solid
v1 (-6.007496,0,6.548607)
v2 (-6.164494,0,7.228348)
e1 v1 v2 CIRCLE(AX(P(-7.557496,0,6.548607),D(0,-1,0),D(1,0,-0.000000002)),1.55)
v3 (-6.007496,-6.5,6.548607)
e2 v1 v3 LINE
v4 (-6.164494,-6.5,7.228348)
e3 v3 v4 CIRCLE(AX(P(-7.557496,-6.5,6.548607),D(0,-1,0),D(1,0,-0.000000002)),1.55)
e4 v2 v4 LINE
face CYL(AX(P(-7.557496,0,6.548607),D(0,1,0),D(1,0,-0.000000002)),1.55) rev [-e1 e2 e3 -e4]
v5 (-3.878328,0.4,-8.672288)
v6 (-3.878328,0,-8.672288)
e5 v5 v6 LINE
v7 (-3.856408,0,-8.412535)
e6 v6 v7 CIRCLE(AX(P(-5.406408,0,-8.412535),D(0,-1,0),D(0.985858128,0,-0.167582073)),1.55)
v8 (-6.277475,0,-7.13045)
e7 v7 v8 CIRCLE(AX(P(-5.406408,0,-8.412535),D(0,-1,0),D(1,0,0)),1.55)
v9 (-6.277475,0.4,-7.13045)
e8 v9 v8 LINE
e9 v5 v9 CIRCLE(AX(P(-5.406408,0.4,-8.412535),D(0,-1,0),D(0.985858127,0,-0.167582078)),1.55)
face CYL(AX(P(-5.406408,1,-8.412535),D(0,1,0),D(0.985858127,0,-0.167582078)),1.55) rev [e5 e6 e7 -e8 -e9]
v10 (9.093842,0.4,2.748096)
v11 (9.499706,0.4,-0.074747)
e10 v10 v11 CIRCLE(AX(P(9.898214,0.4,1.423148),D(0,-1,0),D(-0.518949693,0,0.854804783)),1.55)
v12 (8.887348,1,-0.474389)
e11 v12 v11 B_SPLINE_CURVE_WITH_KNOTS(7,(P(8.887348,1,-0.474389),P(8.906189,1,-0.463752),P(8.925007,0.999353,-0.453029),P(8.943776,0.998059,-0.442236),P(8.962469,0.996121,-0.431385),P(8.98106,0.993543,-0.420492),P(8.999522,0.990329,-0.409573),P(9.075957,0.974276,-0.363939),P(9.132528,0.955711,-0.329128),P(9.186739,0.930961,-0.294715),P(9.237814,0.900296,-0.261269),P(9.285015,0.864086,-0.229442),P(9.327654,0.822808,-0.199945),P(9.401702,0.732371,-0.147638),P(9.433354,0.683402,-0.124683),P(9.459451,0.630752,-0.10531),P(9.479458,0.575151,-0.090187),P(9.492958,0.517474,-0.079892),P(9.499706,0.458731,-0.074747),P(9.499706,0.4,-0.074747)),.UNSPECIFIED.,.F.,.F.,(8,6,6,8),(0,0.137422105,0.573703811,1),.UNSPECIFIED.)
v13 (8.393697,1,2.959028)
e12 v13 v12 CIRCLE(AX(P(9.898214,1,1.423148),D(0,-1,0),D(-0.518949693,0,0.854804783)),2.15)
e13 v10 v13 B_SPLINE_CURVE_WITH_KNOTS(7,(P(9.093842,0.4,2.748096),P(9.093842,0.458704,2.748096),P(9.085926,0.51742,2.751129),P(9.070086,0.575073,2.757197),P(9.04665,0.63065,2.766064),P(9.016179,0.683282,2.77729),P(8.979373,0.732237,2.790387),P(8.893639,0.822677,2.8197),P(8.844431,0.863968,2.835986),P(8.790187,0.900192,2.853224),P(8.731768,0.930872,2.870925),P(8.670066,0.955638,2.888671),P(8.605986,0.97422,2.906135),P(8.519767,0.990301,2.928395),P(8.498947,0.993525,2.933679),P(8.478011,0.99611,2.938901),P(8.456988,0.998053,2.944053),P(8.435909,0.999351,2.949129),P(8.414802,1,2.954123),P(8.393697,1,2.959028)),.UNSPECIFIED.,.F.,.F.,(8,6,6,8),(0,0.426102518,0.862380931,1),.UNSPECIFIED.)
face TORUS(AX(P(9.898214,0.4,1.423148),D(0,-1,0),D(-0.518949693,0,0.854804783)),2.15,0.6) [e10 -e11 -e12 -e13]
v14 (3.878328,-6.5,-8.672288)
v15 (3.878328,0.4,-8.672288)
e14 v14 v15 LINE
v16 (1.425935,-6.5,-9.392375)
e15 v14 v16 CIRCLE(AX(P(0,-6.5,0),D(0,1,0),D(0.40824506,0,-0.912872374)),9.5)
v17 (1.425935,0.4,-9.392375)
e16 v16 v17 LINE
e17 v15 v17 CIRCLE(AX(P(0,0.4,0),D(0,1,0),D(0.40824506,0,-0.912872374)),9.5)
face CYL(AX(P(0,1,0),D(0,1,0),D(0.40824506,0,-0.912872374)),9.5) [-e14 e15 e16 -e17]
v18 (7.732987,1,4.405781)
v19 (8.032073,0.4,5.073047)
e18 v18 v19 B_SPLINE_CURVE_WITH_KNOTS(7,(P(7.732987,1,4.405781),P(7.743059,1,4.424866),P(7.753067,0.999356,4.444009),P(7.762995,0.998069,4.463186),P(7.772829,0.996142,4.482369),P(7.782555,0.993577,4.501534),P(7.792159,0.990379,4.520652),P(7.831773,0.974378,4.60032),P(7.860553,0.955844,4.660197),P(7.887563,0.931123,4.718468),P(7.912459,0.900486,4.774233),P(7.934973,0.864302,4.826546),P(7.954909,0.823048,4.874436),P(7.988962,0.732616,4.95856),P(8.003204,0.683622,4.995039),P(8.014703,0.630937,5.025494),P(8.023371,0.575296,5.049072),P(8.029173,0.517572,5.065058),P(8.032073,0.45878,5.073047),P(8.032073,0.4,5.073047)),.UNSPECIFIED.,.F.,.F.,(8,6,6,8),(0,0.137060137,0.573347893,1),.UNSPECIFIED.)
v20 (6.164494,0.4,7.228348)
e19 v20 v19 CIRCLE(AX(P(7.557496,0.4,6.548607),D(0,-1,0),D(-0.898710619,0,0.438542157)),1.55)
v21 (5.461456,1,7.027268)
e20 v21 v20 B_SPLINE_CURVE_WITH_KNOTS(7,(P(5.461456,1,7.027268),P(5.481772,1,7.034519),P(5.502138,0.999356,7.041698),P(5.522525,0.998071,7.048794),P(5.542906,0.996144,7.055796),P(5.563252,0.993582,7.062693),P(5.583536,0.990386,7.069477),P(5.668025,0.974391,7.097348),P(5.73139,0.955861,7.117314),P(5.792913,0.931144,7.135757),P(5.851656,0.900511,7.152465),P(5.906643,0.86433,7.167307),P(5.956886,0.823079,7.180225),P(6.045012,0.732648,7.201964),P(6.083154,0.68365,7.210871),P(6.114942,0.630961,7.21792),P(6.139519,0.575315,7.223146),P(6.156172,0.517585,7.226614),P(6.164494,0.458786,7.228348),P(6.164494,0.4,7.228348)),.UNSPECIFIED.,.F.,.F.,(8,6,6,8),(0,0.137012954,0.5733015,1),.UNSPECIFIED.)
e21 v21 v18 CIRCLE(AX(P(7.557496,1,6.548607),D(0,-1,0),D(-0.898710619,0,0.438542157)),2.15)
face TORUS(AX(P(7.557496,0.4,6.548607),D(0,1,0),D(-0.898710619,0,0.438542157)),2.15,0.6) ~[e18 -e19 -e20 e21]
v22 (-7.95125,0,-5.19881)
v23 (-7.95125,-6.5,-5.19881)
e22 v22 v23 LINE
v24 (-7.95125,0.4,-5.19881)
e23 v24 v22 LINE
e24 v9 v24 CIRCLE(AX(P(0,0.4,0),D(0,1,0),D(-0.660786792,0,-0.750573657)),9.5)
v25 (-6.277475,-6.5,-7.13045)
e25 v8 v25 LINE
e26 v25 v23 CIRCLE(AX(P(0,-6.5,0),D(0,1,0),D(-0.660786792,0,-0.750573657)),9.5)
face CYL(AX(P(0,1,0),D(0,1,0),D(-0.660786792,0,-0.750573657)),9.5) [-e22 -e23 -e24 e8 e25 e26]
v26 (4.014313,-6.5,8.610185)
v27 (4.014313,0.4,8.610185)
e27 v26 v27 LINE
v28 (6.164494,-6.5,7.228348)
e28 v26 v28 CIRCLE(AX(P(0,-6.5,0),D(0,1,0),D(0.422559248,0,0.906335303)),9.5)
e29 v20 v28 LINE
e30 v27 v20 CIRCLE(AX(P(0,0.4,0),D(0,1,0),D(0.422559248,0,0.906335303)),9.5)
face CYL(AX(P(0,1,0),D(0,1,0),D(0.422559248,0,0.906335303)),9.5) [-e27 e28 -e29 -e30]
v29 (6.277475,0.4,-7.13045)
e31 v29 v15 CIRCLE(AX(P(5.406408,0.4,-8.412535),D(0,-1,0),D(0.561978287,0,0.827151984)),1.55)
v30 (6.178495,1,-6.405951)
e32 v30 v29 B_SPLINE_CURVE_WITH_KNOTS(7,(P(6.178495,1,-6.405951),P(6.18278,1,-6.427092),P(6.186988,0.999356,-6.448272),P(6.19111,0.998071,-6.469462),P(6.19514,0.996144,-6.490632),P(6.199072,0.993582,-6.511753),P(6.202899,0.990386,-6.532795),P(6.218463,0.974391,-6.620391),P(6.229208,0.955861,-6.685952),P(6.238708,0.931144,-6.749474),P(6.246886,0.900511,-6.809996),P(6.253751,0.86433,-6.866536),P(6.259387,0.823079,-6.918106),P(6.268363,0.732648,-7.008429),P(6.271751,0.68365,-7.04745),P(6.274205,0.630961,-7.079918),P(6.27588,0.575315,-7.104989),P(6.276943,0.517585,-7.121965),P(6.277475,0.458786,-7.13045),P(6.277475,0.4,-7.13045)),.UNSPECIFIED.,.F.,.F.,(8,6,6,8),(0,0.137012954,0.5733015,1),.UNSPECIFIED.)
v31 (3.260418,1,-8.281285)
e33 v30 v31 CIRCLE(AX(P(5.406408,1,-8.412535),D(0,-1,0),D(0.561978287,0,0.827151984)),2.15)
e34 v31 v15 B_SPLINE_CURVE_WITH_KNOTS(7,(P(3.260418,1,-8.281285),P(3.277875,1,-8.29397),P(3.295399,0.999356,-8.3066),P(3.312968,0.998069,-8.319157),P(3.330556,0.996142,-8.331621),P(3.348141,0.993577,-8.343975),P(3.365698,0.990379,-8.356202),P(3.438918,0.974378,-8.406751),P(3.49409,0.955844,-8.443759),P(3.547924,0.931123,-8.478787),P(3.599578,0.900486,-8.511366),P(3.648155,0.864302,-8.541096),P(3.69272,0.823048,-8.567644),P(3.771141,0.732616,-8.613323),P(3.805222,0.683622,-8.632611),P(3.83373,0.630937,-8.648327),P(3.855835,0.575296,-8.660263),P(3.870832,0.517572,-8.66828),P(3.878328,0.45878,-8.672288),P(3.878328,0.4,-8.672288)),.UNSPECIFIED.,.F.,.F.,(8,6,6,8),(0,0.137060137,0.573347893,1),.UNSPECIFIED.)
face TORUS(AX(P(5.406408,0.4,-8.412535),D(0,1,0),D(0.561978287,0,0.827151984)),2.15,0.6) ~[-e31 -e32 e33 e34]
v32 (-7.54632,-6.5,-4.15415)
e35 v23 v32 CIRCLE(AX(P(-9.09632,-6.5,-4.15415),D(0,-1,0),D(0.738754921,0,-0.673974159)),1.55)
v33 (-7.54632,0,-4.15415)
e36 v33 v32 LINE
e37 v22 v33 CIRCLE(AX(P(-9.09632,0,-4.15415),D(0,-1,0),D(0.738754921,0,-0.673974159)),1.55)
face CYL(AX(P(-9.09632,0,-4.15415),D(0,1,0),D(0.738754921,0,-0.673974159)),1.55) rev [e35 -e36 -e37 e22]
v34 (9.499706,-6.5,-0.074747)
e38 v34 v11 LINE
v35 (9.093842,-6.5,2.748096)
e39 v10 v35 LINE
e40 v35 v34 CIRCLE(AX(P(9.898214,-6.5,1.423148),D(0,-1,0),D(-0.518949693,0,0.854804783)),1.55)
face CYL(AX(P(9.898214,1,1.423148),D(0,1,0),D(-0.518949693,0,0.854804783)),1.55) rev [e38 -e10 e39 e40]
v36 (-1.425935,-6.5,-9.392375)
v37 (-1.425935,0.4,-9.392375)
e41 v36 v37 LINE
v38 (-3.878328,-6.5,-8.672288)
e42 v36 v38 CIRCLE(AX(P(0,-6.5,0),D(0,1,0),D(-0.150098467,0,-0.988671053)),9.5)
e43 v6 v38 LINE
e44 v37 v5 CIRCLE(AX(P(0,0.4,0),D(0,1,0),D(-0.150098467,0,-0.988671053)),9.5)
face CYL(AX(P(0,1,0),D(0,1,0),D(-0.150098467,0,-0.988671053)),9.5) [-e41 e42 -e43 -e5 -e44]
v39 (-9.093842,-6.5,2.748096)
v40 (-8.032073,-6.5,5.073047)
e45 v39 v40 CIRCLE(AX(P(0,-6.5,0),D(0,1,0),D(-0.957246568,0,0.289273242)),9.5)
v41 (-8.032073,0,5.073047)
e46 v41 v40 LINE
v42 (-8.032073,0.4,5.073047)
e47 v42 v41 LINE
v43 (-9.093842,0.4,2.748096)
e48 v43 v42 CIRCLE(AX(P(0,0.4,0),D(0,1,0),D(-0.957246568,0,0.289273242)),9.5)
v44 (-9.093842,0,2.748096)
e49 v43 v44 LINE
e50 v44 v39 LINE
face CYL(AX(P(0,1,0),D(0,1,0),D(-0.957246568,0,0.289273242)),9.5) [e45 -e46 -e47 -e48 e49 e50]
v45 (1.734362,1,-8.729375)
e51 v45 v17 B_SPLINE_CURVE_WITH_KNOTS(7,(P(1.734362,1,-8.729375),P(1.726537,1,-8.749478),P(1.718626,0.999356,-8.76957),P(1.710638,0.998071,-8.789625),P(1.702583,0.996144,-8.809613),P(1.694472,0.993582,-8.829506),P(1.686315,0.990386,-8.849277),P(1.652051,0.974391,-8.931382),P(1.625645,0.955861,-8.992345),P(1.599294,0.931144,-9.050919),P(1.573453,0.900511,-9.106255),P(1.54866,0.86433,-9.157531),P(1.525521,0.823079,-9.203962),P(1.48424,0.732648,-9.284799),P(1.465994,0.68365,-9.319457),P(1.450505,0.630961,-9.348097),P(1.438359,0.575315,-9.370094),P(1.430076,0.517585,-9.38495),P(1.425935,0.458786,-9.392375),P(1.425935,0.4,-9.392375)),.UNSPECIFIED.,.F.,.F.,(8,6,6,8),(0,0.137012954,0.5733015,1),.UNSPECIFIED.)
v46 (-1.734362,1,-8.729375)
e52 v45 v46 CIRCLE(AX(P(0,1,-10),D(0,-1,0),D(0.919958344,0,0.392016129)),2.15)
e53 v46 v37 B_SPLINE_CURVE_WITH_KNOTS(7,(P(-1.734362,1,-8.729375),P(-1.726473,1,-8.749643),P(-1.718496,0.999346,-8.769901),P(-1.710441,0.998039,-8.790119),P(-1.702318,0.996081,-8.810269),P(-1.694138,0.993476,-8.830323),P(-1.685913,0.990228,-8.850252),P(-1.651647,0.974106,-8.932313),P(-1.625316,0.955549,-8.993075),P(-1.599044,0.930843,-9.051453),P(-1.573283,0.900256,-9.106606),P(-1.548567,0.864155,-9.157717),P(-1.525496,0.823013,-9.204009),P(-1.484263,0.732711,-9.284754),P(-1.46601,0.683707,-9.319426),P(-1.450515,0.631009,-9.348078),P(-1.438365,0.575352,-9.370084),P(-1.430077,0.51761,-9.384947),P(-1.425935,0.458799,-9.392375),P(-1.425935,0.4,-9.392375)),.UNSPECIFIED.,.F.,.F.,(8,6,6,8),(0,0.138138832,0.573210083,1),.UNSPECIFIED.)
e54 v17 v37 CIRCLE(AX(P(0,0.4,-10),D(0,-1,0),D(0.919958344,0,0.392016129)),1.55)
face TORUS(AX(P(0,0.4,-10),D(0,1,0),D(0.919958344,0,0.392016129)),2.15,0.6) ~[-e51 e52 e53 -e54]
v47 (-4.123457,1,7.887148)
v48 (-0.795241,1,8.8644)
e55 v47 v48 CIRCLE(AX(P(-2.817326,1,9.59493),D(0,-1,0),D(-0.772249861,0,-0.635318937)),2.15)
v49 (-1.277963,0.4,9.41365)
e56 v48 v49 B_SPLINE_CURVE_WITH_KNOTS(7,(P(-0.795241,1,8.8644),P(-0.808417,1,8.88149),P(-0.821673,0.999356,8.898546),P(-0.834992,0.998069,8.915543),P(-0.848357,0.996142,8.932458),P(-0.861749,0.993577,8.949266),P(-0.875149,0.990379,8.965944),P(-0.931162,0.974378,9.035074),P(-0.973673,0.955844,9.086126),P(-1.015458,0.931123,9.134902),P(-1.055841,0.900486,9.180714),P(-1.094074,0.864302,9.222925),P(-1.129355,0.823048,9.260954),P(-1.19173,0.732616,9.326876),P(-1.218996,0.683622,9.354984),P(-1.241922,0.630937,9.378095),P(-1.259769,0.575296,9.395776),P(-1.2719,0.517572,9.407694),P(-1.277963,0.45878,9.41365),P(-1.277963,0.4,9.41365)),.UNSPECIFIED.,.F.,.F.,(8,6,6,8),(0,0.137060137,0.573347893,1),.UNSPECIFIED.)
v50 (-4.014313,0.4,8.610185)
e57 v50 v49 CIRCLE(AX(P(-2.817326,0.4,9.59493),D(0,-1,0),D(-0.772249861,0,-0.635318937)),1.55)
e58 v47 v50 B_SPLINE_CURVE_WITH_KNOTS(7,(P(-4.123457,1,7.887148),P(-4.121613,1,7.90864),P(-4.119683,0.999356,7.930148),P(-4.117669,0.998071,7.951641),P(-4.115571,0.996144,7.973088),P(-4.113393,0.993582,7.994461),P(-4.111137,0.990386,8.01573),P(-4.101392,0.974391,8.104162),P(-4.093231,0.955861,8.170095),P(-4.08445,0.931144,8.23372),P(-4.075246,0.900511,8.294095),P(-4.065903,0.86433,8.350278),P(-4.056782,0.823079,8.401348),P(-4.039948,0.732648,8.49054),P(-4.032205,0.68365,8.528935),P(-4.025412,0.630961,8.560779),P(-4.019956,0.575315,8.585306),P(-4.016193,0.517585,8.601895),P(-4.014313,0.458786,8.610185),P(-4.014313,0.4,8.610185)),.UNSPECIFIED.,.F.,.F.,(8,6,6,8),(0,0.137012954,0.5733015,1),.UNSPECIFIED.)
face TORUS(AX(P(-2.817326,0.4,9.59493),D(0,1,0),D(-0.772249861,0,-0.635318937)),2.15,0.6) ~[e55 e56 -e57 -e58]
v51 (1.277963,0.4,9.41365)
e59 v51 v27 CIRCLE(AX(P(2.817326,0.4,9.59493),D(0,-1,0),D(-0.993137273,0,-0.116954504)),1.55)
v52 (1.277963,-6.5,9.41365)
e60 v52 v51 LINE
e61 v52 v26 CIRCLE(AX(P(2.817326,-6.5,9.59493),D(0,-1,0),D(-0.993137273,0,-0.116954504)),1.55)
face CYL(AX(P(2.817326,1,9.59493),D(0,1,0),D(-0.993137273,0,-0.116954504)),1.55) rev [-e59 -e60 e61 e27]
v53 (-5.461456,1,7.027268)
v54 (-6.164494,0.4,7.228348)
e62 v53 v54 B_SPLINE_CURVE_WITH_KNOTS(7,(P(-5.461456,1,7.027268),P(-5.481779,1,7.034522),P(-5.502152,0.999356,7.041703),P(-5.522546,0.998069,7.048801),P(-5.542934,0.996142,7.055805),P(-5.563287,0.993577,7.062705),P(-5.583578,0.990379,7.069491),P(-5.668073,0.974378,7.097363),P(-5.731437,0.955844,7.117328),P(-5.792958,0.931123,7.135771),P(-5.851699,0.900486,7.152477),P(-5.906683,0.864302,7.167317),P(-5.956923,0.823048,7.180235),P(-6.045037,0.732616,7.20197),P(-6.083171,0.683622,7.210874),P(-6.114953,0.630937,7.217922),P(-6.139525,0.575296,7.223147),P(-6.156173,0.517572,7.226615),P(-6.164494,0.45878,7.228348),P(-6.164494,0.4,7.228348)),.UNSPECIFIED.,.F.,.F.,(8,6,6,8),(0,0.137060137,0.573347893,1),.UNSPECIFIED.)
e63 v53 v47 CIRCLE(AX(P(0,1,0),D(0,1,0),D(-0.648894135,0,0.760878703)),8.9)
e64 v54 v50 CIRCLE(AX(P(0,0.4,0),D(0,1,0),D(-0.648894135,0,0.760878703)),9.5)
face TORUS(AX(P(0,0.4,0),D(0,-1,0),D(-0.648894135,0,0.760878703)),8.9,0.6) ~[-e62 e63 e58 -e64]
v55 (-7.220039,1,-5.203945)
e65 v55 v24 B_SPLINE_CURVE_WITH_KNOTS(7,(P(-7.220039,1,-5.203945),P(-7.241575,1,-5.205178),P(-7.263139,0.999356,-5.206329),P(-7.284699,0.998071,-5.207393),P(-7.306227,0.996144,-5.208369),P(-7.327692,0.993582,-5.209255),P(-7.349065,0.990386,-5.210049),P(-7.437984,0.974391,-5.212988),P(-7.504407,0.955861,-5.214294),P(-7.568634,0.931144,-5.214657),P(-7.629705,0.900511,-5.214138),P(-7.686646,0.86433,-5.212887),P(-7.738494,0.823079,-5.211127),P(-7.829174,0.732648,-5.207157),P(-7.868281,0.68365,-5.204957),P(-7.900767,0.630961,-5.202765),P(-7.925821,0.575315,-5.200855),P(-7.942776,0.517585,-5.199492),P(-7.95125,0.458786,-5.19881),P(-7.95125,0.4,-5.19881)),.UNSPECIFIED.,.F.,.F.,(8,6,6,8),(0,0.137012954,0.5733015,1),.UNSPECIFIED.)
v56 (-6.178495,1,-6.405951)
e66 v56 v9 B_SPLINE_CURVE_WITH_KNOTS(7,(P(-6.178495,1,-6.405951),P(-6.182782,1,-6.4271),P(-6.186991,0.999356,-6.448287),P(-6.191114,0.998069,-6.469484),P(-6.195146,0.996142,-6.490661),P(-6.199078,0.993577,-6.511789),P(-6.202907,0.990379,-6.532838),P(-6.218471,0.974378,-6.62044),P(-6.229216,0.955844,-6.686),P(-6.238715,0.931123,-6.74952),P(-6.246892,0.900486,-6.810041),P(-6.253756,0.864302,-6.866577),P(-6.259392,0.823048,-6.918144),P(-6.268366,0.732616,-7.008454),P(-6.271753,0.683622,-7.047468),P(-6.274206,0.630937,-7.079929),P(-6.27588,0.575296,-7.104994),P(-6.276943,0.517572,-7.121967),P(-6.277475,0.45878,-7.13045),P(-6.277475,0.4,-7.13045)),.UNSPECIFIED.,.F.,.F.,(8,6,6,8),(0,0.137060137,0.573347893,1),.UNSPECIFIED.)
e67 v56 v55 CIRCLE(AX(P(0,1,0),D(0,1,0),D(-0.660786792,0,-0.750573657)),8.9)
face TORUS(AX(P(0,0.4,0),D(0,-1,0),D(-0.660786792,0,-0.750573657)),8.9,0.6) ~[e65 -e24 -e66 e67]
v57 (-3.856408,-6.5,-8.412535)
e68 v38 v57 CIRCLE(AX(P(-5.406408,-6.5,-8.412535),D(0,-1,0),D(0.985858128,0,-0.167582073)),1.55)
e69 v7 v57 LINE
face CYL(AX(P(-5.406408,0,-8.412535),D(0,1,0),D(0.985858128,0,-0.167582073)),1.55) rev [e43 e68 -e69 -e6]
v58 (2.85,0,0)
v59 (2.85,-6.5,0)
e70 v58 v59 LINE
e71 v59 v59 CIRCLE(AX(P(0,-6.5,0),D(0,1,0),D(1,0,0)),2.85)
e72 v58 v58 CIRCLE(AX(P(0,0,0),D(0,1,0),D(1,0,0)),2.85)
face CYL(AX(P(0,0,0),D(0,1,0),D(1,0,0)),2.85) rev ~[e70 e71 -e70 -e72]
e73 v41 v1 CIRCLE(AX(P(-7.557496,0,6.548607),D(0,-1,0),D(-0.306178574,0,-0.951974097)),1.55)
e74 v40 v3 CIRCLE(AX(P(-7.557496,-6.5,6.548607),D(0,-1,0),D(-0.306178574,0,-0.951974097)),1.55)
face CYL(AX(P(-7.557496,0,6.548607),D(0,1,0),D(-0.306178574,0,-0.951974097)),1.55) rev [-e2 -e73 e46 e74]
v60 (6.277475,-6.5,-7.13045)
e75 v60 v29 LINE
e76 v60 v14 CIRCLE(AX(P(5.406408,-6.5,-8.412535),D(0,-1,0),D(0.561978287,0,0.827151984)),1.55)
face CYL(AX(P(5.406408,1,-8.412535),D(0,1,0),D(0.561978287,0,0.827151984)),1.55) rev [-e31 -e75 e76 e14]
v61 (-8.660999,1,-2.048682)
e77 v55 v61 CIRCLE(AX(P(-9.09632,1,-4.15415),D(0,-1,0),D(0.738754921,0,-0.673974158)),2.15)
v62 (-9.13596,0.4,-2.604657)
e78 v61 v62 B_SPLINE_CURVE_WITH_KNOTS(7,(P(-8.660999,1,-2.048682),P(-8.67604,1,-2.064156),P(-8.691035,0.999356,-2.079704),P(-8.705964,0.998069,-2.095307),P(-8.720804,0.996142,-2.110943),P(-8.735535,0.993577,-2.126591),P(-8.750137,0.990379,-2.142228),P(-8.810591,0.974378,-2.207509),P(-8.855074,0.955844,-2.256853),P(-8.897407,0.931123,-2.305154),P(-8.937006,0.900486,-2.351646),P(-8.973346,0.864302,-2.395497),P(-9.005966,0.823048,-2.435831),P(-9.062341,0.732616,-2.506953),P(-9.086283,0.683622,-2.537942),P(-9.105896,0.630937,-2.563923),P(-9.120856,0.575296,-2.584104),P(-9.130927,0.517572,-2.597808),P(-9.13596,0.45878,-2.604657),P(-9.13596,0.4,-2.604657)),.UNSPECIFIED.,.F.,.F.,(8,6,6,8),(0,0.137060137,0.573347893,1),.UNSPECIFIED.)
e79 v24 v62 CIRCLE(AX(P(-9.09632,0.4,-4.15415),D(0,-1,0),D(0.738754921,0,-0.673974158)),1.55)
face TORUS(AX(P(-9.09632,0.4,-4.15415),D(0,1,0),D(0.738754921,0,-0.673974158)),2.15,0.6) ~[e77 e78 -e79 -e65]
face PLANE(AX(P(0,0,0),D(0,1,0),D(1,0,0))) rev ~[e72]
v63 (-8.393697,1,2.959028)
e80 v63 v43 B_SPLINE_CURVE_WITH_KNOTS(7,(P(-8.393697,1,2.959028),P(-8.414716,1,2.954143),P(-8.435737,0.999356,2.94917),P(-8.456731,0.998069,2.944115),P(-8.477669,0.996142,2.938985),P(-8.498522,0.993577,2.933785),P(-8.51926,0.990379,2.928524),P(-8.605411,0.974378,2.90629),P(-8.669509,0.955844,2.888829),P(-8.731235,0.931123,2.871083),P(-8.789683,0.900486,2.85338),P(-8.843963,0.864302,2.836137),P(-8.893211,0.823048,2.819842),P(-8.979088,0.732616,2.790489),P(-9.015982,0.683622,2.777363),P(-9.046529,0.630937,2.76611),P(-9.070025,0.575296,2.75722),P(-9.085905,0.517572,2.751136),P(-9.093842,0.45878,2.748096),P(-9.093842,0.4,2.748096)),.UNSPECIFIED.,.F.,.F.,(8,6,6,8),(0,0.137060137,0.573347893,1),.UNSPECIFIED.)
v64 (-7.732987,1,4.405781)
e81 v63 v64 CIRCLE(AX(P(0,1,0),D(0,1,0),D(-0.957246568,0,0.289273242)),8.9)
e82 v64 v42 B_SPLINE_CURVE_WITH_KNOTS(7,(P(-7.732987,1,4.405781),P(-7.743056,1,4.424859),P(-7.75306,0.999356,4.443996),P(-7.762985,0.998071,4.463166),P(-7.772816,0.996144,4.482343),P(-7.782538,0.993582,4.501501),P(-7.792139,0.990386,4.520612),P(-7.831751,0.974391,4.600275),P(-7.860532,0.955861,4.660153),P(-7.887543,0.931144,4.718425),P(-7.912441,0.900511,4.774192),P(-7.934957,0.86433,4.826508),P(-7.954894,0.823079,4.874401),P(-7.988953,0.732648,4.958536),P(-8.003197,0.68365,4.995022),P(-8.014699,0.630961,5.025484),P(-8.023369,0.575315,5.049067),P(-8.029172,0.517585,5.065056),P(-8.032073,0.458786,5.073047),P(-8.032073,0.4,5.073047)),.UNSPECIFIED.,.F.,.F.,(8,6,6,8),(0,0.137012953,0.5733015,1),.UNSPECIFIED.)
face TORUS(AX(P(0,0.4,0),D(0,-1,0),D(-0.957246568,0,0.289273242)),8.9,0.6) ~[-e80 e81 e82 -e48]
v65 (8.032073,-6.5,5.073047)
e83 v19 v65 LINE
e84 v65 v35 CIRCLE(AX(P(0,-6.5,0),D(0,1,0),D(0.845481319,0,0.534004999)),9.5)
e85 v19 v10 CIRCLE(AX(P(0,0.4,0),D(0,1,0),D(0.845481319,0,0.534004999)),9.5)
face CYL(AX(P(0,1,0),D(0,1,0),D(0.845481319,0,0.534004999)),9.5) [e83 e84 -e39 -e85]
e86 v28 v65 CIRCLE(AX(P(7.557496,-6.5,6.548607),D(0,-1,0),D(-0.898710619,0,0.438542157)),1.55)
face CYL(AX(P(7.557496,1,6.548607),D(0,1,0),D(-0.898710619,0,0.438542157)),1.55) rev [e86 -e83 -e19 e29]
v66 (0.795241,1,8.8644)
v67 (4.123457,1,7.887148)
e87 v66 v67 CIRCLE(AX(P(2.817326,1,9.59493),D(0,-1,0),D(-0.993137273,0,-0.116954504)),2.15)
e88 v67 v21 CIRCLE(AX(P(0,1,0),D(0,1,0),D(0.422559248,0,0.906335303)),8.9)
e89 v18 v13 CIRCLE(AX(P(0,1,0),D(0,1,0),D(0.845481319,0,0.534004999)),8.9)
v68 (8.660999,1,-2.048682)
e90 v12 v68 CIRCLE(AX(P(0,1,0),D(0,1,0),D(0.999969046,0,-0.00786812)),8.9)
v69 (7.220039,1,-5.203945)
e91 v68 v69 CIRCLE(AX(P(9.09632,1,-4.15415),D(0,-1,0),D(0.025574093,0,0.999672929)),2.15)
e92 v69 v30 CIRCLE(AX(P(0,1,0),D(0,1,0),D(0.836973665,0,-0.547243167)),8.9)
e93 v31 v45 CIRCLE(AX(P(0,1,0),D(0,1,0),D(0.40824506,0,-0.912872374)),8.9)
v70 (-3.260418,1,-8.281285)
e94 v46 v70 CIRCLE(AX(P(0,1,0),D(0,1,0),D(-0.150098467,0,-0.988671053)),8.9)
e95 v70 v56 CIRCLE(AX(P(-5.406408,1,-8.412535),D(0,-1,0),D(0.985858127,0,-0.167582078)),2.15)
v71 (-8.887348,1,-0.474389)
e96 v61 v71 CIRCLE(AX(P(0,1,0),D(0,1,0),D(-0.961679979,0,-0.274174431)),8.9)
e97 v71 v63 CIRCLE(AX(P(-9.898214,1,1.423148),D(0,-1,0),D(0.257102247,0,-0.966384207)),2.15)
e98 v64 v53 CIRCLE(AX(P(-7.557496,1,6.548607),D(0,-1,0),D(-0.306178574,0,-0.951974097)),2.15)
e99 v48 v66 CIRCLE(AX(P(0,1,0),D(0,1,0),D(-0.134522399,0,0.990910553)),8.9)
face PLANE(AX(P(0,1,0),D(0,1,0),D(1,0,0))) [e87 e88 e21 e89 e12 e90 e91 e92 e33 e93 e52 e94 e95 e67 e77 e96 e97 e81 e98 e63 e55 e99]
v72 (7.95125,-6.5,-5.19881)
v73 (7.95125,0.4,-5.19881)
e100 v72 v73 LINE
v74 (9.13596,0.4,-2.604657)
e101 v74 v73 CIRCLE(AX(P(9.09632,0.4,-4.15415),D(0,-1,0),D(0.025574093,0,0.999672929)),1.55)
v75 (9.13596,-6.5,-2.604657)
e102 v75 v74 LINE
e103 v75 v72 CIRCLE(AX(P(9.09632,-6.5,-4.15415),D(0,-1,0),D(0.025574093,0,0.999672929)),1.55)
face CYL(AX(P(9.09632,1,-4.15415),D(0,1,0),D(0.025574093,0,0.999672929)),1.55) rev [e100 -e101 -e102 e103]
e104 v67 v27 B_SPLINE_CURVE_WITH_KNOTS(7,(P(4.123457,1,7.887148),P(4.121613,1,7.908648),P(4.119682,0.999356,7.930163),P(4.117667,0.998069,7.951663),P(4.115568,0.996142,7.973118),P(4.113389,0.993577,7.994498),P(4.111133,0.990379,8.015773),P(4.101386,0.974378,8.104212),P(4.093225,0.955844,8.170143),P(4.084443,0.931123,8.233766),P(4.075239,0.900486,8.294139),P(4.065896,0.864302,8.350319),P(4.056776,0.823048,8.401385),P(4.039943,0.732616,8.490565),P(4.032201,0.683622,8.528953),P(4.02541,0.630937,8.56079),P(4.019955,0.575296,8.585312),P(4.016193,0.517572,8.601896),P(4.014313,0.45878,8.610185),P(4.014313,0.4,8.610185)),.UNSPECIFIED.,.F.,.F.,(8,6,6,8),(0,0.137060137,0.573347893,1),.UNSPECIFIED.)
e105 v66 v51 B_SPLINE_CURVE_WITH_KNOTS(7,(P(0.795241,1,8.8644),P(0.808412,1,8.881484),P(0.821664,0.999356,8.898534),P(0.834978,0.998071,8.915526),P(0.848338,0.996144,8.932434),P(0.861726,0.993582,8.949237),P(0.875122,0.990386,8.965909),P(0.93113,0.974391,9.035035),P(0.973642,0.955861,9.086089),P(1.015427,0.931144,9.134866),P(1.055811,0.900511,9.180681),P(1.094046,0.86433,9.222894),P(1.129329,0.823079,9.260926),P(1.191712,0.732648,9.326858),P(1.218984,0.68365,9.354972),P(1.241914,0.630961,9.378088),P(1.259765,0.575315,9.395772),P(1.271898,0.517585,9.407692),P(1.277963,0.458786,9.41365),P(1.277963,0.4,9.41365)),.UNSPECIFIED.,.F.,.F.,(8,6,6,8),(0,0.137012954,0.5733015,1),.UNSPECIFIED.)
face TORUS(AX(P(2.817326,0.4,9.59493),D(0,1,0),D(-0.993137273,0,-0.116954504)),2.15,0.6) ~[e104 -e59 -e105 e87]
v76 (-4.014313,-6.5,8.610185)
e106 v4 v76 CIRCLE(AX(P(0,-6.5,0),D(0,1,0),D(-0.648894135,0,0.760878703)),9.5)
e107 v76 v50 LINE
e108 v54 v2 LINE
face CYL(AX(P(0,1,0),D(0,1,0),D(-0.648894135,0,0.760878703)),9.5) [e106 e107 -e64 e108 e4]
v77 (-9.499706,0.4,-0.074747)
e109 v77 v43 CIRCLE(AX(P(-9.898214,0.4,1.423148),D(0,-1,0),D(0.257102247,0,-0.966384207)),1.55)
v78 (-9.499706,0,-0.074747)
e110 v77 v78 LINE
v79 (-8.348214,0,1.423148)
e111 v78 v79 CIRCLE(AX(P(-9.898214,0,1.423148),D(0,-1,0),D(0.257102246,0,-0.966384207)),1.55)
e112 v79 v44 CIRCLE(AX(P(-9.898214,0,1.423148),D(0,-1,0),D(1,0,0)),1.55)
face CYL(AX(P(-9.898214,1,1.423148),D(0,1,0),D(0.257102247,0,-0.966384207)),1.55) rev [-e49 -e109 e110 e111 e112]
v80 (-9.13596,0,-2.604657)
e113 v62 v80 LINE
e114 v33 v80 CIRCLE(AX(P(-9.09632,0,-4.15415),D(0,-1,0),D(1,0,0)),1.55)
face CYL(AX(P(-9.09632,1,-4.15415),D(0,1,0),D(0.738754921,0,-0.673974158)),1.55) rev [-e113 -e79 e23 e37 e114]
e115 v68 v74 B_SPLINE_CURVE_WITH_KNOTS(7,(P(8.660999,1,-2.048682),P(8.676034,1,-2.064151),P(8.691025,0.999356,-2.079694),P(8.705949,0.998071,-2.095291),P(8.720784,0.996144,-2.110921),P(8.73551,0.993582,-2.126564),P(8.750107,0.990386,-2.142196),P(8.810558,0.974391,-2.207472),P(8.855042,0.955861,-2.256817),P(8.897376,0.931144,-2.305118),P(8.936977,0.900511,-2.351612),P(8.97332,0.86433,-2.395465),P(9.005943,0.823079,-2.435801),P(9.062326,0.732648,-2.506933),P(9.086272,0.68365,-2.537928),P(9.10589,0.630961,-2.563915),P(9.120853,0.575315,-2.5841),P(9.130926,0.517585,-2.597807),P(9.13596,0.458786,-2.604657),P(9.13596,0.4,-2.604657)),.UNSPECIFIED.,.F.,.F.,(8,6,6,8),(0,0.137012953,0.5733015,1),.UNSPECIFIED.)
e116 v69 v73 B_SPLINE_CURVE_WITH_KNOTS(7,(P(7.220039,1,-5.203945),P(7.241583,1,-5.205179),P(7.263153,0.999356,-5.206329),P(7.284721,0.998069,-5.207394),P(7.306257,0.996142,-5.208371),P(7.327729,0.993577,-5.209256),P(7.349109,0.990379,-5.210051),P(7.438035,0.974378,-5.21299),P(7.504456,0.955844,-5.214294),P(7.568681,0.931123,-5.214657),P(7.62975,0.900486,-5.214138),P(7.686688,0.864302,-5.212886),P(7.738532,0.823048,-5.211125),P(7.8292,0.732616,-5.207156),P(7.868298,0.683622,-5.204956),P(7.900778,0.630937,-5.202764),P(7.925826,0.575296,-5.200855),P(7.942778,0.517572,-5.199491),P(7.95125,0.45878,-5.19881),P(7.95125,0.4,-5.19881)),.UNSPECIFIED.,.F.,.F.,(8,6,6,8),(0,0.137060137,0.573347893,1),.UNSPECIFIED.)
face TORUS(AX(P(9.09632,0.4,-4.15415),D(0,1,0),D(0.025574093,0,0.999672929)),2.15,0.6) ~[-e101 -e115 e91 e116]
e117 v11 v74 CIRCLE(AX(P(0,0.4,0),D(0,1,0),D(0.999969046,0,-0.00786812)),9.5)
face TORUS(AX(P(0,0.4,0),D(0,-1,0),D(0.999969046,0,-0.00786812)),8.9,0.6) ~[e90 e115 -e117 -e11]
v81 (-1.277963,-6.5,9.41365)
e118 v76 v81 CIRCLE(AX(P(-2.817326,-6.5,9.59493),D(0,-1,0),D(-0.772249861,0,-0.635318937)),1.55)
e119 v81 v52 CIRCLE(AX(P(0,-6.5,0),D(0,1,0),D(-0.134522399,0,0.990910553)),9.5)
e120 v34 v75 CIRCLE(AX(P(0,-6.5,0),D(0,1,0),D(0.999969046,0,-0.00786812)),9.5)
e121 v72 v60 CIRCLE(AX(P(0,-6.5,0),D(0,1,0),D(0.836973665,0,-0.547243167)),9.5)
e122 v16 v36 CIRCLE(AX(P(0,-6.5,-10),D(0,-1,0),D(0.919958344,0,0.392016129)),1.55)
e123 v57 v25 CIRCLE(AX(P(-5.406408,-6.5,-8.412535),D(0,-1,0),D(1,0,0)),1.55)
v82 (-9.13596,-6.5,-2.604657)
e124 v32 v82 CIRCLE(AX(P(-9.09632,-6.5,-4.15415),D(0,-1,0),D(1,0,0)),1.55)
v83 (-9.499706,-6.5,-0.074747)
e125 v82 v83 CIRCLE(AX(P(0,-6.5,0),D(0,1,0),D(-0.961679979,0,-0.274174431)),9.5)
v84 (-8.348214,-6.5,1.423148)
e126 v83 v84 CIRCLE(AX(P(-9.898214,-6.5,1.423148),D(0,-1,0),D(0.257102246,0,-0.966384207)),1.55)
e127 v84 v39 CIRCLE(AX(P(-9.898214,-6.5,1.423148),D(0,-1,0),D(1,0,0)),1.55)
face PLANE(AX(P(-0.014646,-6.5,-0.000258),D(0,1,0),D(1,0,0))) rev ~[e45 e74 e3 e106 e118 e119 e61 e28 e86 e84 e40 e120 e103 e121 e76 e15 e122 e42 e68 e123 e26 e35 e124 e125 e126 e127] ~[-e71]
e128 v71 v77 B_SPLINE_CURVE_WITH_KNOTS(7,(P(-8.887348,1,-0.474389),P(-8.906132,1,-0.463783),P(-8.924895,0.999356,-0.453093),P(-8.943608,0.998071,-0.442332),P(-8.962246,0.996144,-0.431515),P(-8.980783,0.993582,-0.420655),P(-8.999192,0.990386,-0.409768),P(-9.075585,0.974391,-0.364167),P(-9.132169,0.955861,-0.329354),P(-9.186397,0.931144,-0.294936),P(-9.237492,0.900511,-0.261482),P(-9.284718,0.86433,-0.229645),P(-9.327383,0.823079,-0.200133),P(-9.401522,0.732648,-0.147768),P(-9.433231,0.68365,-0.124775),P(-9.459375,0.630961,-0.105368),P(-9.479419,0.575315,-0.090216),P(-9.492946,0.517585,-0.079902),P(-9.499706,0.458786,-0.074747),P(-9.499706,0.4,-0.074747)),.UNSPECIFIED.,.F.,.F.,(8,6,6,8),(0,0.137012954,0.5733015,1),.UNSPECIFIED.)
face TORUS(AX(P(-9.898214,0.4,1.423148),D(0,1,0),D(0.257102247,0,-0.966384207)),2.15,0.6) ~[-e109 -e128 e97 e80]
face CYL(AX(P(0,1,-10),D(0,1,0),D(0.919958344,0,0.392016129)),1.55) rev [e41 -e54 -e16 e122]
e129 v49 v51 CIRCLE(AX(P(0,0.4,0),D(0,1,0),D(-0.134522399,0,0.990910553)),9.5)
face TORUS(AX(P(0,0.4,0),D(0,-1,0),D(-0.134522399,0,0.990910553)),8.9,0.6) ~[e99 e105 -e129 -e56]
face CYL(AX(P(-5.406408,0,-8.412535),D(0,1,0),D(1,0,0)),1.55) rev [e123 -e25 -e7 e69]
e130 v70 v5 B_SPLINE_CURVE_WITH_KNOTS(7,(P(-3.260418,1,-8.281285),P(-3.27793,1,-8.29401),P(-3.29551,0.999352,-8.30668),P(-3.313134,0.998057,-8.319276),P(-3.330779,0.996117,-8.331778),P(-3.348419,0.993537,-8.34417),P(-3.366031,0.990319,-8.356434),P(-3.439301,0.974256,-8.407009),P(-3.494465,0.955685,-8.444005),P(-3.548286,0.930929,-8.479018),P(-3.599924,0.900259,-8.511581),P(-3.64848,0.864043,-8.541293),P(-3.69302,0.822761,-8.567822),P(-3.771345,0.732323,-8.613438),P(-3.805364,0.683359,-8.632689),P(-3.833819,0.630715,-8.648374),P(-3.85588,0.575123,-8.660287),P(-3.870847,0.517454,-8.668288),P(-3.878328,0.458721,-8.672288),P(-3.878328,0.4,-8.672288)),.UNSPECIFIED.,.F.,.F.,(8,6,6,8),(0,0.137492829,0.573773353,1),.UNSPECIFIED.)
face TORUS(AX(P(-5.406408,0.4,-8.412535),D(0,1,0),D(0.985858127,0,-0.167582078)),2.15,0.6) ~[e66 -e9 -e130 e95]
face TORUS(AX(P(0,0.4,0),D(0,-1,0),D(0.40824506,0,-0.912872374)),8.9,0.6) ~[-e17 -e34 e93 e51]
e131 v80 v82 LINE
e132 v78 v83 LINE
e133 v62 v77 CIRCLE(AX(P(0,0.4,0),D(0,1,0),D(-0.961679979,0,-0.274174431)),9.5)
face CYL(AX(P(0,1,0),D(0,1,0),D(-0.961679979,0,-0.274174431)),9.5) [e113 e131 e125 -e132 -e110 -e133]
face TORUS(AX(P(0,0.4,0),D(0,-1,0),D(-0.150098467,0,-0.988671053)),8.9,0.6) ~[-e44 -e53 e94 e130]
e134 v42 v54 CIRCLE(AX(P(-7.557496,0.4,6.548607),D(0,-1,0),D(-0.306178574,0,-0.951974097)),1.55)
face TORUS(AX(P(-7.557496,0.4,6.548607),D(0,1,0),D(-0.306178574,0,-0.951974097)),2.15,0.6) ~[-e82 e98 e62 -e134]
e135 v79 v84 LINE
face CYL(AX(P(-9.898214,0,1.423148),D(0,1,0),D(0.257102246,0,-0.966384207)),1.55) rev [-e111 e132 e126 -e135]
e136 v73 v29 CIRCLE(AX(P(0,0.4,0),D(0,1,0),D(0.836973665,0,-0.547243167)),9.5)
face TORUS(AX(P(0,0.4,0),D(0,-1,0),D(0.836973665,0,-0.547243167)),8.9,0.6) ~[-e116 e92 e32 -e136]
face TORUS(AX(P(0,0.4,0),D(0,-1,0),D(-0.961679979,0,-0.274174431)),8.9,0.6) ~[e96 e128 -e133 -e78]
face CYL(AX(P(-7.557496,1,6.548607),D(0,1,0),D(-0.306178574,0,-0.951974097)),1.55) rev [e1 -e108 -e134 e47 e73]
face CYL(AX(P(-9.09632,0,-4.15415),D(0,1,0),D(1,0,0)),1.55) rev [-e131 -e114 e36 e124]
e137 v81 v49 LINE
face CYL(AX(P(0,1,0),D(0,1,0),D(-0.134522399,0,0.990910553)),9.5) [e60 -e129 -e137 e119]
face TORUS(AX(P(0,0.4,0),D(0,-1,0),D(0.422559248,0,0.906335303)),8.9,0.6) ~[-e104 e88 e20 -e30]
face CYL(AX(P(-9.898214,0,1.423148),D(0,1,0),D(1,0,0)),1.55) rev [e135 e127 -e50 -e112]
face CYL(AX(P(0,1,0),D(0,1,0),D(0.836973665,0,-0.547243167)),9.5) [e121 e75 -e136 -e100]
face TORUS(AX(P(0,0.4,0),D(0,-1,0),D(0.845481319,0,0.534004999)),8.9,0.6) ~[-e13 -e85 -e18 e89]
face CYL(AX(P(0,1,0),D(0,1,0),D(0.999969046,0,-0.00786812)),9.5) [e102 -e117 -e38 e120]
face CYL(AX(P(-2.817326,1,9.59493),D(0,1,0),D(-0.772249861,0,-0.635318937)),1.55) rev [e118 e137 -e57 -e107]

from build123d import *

# Parameters (mm, degrees)
SKETCH1_R           = 2.85
BOSS_EXTRUDE1_DEPTH = 6.5
BOSS_EXTRUDE2_START = 1
BOSS_EXTRUDE2_DEPTH = 1
FILLET1_R           = 0.6


with BuildPart() as part:
    # Sketch1 → Boss-Extrude1 (new body)
    with BuildSketch(Plane(origin=(0, 0, 0), x_dir=(1, 0, 0), z_dir=(0, 1, 0))):
        with BuildLine():
            ThreePointArc((9.093842395, -2.748095796), (8.363991184, -1.202560383), (9.499705936, 0.074747137))
            ThreePointArc((9.499705936, 0.074747137), (9.403303698, 1.351990964), (9.135959799, 2.604657089))
            ThreePointArc((9.135959799, 2.604657089), (7.686390361, 3.51025686), (7.951249826, 5.198810076))
            ThreePointArc((7.951249826, 5.198810076), (7.179620956, 6.221176972), (6.277474519, 7.130449752))
            ThreePointArc((6.277474519, 7.130449752), (4.568414907, 7.108592352), (3.878328077, 8.672287549))
            ThreePointArc((3.878328077, 8.672287549), (2.67645929, 9.115183249), (1.425935433, 9.392375))
            ThreePointArc((1.425935433, 9.392375), (0, 8.45), (-1.425935433, 9.392375))
            ThreePointArc((-1.425935433, 9.392375), (-2.67645929, 9.115183249), (-3.878328077, 8.672287549))
            ThreePointArc((-3.878328077, 8.672287549), (-3.861897872, 8.542873061), (-3.856408175, 8.412535328))
            ThreePointArc((-3.856408175, 8.412535328), (-4.68102994, 7.042744681), (-6.277474519, 7.130449752))
            ThreePointArc((-6.277474519, 7.130449752), (-7.179620956, 6.221176972), (-7.951249826, 5.198810076))
            ThreePointArc((-7.951249826, 5.198810076), (-7.651093553, 4.714347105), (-7.546319954, 4.15415013))
            ThreePointArc((-7.546319954, 4.15415013), (-8.014410013, 3.044208294), (-9.135959799, 2.604657089))
            ThreePointArc((-9.135959799, 2.604657089), (-9.403303698, 1.351990964), (-9.499705936, 0.074747137))
            ThreePointArc((-9.499705936, 0.074747137), (-8.669355568, -0.478475992), (-8.348214419, -1.423148383))
            ThreePointArc((-8.348214419, -1.423148383), (-8.547422681, -2.183320522), (-9.093842395, -2.748095796))
            ThreePointArc((-9.093842395, -2.748095796), (-8.641503956, -3.946442624), (-8.032072533, -5.073047489))
            ThreePointArc((-8.032072533, -5.073047489), (-6.644559279, -5.295991272), (-6.007495744, -6.548607339))
            ThreePointArc((-6.007495744, -6.548607339), (-6.047255322, -6.897425156), (-6.164494284, -7.228347683))
            ThreePointArc((-6.164494284, -7.228347683), (-5.136087766, -7.991908562), (-4.014312852, -8.610185383))
            ThreePointArc((-4.014312852, -8.610185383), (-2.380640105, -8.107715627), (-1.277962795, -9.413650254))
            ThreePointArc((-1.277962795, -9.413650254), (0, -9.5), (1.277962795, -9.413650254))
            ThreePointArc((1.277962795, -9.413650254), (2.380640105, -8.107715627), (4.014312852, -8.610185383))
            ThreePointArc((4.014312852, -8.610185383), (5.136087766, -7.991908562), (6.164494284, -7.228347683))
            ThreePointArc((6.164494284, -7.228347683), (6.386083903, -5.533573202), (8.032072533, -5.073047489))
            ThreePointArc((8.032072533, -5.073047489), (8.641503956, -3.946442624), (9.093842395, -2.748095796))
        make_face()
        Circle(SKETCH1_R, mode=Mode.SUBTRACT)
    extrude(amount=-BOSS_EXTRUDE1_DEPTH)

    # Sketch1<2> → Boss-Extrude2 (add)
    with BuildSketch(Plane(origin=(0, 0, 0), x_dir=(1, 0, 0), z_dir=(0, 1, 0)).offset(BOSS_EXTRUDE2_START)):
        with BuildLine():
            ThreePointArc((9.093842395, -2.748095796), (8.363991184, -1.202560383), (9.499705936, 0.074747137))
            ThreePointArc((9.499705936, 0.074747137), (9.403303698, 1.351990964), (9.135959799, 2.604657089))
            ThreePointArc((9.135959799, 2.604657089), (7.686390361, 3.51025686), (7.951249826, 5.198810076))
            ThreePointArc((7.951249826, 5.198810076), (7.179620956, 6.221176972), (6.277474519, 7.130449752))
            ThreePointArc((6.277474519, 7.130449752), (4.568414907, 7.108592352), (3.878328077, 8.672287549))
            ThreePointArc((3.878328077, 8.672287549), (2.67645929, 9.115183249), (1.425935433, 9.392375))
            ThreePointArc((1.425935433, 9.392375), (0, 8.45), (-1.425935433, 9.392375))
            ThreePointArc((-1.425935433, 9.392375), (-2.67645929, 9.115183249), (-3.878328077, 8.672287549))
            ThreePointArc((-3.878328077, 8.672287549), (-4.568414907, 7.108592352), (-6.277474519, 7.130449752))
            ThreePointArc((-6.277474519, 7.130449752), (-7.179620956, 6.221176972), (-7.951249826, 5.198810076))
            ThreePointArc((-7.951249826, 5.198810076), (-7.686390361, 3.51025686), (-9.135959799, 2.604657089))
            ThreePointArc((-9.135959799, 2.604657089), (-9.403303698, 1.351990964), (-9.499705936, 0.074747137))
            ThreePointArc((-9.499705936, 0.074747137), (-8.363991184, -1.202560383), (-9.093842395, -2.748095796))
            ThreePointArc((-9.093842395, -2.748095796), (-8.641503956, -3.946442624), (-8.032072533, -5.073047489))
            ThreePointArc((-8.032072533, -5.073047489), (-6.386083903, -5.533573202), (-6.164494284, -7.228347683))
            ThreePointArc((-6.164494284, -7.228347683), (-5.136087766, -7.991908562), (-4.014312852, -8.610185383))
            ThreePointArc((-4.014312852, -8.610185383), (-2.380640105, -8.107715627), (-1.277962795, -9.413650254))
            ThreePointArc((-1.277962795, -9.413650254), (0, -9.5), (1.277962795, -9.413650254))
            ThreePointArc((1.277962795, -9.413650254), (2.380640105, -8.107715627), (4.014312852, -8.610185383))
            ThreePointArc((4.014312852, -8.610185383), (5.136087766, -7.991908562), (6.164494284, -7.228347683))
            ThreePointArc((6.164494284, -7.228347683), (6.386083903, -5.533573202), (8.032072533, -5.073047489))
            ThreePointArc((8.032072533, -5.073047489), (8.641503956, -3.946442624), (9.093842395, -2.748095796))
        make_face()
    extrude(amount=-BOSS_EXTRUDE2_DEPTH)

    # Fillet1
    fillet1_edges = [part.edges().sort_by_distance(p)[0] for p in [
        (-2.67645929, 1, -9.115183249),
        (0, 1, -8.45),
        (2.67645929, 1, -9.115183249),
        (4.568414907, 1, -7.108592352),
        (7.179620956, 1, -6.221176972),
        (7.686390361, 1, -3.51025686),
        (9.403303698, 1, -1.351990964),
        (8.363991184, 1, 1.202560383),
        (8.641503956, 1, 3.946442624),
        (6.386083903, 1, 5.533573202),
        (5.136087766, 1, 7.991908562),
        (2.380640105, 1, 8.107715627),
        (0, 1, 9.5),
        (-2.380640105, 1, 8.107715627),
        (-5.136087766, 1, 7.991908562),
        (-6.386083903, 1, 5.533573202),
        (-8.641503956, 1, 3.946442624),
        (-8.363991184, 1, 1.202560383),
        (-9.403303698, 1, -1.351990964),
        (-7.686390361, 1, -3.51025686),
        (-7.179620956, 1, -6.221176972),
        (-4.568414907, 1, -7.108592352),
    ]]
    fillet(fillet1_edges, radius=FILLET1_R)


solid = part.part
